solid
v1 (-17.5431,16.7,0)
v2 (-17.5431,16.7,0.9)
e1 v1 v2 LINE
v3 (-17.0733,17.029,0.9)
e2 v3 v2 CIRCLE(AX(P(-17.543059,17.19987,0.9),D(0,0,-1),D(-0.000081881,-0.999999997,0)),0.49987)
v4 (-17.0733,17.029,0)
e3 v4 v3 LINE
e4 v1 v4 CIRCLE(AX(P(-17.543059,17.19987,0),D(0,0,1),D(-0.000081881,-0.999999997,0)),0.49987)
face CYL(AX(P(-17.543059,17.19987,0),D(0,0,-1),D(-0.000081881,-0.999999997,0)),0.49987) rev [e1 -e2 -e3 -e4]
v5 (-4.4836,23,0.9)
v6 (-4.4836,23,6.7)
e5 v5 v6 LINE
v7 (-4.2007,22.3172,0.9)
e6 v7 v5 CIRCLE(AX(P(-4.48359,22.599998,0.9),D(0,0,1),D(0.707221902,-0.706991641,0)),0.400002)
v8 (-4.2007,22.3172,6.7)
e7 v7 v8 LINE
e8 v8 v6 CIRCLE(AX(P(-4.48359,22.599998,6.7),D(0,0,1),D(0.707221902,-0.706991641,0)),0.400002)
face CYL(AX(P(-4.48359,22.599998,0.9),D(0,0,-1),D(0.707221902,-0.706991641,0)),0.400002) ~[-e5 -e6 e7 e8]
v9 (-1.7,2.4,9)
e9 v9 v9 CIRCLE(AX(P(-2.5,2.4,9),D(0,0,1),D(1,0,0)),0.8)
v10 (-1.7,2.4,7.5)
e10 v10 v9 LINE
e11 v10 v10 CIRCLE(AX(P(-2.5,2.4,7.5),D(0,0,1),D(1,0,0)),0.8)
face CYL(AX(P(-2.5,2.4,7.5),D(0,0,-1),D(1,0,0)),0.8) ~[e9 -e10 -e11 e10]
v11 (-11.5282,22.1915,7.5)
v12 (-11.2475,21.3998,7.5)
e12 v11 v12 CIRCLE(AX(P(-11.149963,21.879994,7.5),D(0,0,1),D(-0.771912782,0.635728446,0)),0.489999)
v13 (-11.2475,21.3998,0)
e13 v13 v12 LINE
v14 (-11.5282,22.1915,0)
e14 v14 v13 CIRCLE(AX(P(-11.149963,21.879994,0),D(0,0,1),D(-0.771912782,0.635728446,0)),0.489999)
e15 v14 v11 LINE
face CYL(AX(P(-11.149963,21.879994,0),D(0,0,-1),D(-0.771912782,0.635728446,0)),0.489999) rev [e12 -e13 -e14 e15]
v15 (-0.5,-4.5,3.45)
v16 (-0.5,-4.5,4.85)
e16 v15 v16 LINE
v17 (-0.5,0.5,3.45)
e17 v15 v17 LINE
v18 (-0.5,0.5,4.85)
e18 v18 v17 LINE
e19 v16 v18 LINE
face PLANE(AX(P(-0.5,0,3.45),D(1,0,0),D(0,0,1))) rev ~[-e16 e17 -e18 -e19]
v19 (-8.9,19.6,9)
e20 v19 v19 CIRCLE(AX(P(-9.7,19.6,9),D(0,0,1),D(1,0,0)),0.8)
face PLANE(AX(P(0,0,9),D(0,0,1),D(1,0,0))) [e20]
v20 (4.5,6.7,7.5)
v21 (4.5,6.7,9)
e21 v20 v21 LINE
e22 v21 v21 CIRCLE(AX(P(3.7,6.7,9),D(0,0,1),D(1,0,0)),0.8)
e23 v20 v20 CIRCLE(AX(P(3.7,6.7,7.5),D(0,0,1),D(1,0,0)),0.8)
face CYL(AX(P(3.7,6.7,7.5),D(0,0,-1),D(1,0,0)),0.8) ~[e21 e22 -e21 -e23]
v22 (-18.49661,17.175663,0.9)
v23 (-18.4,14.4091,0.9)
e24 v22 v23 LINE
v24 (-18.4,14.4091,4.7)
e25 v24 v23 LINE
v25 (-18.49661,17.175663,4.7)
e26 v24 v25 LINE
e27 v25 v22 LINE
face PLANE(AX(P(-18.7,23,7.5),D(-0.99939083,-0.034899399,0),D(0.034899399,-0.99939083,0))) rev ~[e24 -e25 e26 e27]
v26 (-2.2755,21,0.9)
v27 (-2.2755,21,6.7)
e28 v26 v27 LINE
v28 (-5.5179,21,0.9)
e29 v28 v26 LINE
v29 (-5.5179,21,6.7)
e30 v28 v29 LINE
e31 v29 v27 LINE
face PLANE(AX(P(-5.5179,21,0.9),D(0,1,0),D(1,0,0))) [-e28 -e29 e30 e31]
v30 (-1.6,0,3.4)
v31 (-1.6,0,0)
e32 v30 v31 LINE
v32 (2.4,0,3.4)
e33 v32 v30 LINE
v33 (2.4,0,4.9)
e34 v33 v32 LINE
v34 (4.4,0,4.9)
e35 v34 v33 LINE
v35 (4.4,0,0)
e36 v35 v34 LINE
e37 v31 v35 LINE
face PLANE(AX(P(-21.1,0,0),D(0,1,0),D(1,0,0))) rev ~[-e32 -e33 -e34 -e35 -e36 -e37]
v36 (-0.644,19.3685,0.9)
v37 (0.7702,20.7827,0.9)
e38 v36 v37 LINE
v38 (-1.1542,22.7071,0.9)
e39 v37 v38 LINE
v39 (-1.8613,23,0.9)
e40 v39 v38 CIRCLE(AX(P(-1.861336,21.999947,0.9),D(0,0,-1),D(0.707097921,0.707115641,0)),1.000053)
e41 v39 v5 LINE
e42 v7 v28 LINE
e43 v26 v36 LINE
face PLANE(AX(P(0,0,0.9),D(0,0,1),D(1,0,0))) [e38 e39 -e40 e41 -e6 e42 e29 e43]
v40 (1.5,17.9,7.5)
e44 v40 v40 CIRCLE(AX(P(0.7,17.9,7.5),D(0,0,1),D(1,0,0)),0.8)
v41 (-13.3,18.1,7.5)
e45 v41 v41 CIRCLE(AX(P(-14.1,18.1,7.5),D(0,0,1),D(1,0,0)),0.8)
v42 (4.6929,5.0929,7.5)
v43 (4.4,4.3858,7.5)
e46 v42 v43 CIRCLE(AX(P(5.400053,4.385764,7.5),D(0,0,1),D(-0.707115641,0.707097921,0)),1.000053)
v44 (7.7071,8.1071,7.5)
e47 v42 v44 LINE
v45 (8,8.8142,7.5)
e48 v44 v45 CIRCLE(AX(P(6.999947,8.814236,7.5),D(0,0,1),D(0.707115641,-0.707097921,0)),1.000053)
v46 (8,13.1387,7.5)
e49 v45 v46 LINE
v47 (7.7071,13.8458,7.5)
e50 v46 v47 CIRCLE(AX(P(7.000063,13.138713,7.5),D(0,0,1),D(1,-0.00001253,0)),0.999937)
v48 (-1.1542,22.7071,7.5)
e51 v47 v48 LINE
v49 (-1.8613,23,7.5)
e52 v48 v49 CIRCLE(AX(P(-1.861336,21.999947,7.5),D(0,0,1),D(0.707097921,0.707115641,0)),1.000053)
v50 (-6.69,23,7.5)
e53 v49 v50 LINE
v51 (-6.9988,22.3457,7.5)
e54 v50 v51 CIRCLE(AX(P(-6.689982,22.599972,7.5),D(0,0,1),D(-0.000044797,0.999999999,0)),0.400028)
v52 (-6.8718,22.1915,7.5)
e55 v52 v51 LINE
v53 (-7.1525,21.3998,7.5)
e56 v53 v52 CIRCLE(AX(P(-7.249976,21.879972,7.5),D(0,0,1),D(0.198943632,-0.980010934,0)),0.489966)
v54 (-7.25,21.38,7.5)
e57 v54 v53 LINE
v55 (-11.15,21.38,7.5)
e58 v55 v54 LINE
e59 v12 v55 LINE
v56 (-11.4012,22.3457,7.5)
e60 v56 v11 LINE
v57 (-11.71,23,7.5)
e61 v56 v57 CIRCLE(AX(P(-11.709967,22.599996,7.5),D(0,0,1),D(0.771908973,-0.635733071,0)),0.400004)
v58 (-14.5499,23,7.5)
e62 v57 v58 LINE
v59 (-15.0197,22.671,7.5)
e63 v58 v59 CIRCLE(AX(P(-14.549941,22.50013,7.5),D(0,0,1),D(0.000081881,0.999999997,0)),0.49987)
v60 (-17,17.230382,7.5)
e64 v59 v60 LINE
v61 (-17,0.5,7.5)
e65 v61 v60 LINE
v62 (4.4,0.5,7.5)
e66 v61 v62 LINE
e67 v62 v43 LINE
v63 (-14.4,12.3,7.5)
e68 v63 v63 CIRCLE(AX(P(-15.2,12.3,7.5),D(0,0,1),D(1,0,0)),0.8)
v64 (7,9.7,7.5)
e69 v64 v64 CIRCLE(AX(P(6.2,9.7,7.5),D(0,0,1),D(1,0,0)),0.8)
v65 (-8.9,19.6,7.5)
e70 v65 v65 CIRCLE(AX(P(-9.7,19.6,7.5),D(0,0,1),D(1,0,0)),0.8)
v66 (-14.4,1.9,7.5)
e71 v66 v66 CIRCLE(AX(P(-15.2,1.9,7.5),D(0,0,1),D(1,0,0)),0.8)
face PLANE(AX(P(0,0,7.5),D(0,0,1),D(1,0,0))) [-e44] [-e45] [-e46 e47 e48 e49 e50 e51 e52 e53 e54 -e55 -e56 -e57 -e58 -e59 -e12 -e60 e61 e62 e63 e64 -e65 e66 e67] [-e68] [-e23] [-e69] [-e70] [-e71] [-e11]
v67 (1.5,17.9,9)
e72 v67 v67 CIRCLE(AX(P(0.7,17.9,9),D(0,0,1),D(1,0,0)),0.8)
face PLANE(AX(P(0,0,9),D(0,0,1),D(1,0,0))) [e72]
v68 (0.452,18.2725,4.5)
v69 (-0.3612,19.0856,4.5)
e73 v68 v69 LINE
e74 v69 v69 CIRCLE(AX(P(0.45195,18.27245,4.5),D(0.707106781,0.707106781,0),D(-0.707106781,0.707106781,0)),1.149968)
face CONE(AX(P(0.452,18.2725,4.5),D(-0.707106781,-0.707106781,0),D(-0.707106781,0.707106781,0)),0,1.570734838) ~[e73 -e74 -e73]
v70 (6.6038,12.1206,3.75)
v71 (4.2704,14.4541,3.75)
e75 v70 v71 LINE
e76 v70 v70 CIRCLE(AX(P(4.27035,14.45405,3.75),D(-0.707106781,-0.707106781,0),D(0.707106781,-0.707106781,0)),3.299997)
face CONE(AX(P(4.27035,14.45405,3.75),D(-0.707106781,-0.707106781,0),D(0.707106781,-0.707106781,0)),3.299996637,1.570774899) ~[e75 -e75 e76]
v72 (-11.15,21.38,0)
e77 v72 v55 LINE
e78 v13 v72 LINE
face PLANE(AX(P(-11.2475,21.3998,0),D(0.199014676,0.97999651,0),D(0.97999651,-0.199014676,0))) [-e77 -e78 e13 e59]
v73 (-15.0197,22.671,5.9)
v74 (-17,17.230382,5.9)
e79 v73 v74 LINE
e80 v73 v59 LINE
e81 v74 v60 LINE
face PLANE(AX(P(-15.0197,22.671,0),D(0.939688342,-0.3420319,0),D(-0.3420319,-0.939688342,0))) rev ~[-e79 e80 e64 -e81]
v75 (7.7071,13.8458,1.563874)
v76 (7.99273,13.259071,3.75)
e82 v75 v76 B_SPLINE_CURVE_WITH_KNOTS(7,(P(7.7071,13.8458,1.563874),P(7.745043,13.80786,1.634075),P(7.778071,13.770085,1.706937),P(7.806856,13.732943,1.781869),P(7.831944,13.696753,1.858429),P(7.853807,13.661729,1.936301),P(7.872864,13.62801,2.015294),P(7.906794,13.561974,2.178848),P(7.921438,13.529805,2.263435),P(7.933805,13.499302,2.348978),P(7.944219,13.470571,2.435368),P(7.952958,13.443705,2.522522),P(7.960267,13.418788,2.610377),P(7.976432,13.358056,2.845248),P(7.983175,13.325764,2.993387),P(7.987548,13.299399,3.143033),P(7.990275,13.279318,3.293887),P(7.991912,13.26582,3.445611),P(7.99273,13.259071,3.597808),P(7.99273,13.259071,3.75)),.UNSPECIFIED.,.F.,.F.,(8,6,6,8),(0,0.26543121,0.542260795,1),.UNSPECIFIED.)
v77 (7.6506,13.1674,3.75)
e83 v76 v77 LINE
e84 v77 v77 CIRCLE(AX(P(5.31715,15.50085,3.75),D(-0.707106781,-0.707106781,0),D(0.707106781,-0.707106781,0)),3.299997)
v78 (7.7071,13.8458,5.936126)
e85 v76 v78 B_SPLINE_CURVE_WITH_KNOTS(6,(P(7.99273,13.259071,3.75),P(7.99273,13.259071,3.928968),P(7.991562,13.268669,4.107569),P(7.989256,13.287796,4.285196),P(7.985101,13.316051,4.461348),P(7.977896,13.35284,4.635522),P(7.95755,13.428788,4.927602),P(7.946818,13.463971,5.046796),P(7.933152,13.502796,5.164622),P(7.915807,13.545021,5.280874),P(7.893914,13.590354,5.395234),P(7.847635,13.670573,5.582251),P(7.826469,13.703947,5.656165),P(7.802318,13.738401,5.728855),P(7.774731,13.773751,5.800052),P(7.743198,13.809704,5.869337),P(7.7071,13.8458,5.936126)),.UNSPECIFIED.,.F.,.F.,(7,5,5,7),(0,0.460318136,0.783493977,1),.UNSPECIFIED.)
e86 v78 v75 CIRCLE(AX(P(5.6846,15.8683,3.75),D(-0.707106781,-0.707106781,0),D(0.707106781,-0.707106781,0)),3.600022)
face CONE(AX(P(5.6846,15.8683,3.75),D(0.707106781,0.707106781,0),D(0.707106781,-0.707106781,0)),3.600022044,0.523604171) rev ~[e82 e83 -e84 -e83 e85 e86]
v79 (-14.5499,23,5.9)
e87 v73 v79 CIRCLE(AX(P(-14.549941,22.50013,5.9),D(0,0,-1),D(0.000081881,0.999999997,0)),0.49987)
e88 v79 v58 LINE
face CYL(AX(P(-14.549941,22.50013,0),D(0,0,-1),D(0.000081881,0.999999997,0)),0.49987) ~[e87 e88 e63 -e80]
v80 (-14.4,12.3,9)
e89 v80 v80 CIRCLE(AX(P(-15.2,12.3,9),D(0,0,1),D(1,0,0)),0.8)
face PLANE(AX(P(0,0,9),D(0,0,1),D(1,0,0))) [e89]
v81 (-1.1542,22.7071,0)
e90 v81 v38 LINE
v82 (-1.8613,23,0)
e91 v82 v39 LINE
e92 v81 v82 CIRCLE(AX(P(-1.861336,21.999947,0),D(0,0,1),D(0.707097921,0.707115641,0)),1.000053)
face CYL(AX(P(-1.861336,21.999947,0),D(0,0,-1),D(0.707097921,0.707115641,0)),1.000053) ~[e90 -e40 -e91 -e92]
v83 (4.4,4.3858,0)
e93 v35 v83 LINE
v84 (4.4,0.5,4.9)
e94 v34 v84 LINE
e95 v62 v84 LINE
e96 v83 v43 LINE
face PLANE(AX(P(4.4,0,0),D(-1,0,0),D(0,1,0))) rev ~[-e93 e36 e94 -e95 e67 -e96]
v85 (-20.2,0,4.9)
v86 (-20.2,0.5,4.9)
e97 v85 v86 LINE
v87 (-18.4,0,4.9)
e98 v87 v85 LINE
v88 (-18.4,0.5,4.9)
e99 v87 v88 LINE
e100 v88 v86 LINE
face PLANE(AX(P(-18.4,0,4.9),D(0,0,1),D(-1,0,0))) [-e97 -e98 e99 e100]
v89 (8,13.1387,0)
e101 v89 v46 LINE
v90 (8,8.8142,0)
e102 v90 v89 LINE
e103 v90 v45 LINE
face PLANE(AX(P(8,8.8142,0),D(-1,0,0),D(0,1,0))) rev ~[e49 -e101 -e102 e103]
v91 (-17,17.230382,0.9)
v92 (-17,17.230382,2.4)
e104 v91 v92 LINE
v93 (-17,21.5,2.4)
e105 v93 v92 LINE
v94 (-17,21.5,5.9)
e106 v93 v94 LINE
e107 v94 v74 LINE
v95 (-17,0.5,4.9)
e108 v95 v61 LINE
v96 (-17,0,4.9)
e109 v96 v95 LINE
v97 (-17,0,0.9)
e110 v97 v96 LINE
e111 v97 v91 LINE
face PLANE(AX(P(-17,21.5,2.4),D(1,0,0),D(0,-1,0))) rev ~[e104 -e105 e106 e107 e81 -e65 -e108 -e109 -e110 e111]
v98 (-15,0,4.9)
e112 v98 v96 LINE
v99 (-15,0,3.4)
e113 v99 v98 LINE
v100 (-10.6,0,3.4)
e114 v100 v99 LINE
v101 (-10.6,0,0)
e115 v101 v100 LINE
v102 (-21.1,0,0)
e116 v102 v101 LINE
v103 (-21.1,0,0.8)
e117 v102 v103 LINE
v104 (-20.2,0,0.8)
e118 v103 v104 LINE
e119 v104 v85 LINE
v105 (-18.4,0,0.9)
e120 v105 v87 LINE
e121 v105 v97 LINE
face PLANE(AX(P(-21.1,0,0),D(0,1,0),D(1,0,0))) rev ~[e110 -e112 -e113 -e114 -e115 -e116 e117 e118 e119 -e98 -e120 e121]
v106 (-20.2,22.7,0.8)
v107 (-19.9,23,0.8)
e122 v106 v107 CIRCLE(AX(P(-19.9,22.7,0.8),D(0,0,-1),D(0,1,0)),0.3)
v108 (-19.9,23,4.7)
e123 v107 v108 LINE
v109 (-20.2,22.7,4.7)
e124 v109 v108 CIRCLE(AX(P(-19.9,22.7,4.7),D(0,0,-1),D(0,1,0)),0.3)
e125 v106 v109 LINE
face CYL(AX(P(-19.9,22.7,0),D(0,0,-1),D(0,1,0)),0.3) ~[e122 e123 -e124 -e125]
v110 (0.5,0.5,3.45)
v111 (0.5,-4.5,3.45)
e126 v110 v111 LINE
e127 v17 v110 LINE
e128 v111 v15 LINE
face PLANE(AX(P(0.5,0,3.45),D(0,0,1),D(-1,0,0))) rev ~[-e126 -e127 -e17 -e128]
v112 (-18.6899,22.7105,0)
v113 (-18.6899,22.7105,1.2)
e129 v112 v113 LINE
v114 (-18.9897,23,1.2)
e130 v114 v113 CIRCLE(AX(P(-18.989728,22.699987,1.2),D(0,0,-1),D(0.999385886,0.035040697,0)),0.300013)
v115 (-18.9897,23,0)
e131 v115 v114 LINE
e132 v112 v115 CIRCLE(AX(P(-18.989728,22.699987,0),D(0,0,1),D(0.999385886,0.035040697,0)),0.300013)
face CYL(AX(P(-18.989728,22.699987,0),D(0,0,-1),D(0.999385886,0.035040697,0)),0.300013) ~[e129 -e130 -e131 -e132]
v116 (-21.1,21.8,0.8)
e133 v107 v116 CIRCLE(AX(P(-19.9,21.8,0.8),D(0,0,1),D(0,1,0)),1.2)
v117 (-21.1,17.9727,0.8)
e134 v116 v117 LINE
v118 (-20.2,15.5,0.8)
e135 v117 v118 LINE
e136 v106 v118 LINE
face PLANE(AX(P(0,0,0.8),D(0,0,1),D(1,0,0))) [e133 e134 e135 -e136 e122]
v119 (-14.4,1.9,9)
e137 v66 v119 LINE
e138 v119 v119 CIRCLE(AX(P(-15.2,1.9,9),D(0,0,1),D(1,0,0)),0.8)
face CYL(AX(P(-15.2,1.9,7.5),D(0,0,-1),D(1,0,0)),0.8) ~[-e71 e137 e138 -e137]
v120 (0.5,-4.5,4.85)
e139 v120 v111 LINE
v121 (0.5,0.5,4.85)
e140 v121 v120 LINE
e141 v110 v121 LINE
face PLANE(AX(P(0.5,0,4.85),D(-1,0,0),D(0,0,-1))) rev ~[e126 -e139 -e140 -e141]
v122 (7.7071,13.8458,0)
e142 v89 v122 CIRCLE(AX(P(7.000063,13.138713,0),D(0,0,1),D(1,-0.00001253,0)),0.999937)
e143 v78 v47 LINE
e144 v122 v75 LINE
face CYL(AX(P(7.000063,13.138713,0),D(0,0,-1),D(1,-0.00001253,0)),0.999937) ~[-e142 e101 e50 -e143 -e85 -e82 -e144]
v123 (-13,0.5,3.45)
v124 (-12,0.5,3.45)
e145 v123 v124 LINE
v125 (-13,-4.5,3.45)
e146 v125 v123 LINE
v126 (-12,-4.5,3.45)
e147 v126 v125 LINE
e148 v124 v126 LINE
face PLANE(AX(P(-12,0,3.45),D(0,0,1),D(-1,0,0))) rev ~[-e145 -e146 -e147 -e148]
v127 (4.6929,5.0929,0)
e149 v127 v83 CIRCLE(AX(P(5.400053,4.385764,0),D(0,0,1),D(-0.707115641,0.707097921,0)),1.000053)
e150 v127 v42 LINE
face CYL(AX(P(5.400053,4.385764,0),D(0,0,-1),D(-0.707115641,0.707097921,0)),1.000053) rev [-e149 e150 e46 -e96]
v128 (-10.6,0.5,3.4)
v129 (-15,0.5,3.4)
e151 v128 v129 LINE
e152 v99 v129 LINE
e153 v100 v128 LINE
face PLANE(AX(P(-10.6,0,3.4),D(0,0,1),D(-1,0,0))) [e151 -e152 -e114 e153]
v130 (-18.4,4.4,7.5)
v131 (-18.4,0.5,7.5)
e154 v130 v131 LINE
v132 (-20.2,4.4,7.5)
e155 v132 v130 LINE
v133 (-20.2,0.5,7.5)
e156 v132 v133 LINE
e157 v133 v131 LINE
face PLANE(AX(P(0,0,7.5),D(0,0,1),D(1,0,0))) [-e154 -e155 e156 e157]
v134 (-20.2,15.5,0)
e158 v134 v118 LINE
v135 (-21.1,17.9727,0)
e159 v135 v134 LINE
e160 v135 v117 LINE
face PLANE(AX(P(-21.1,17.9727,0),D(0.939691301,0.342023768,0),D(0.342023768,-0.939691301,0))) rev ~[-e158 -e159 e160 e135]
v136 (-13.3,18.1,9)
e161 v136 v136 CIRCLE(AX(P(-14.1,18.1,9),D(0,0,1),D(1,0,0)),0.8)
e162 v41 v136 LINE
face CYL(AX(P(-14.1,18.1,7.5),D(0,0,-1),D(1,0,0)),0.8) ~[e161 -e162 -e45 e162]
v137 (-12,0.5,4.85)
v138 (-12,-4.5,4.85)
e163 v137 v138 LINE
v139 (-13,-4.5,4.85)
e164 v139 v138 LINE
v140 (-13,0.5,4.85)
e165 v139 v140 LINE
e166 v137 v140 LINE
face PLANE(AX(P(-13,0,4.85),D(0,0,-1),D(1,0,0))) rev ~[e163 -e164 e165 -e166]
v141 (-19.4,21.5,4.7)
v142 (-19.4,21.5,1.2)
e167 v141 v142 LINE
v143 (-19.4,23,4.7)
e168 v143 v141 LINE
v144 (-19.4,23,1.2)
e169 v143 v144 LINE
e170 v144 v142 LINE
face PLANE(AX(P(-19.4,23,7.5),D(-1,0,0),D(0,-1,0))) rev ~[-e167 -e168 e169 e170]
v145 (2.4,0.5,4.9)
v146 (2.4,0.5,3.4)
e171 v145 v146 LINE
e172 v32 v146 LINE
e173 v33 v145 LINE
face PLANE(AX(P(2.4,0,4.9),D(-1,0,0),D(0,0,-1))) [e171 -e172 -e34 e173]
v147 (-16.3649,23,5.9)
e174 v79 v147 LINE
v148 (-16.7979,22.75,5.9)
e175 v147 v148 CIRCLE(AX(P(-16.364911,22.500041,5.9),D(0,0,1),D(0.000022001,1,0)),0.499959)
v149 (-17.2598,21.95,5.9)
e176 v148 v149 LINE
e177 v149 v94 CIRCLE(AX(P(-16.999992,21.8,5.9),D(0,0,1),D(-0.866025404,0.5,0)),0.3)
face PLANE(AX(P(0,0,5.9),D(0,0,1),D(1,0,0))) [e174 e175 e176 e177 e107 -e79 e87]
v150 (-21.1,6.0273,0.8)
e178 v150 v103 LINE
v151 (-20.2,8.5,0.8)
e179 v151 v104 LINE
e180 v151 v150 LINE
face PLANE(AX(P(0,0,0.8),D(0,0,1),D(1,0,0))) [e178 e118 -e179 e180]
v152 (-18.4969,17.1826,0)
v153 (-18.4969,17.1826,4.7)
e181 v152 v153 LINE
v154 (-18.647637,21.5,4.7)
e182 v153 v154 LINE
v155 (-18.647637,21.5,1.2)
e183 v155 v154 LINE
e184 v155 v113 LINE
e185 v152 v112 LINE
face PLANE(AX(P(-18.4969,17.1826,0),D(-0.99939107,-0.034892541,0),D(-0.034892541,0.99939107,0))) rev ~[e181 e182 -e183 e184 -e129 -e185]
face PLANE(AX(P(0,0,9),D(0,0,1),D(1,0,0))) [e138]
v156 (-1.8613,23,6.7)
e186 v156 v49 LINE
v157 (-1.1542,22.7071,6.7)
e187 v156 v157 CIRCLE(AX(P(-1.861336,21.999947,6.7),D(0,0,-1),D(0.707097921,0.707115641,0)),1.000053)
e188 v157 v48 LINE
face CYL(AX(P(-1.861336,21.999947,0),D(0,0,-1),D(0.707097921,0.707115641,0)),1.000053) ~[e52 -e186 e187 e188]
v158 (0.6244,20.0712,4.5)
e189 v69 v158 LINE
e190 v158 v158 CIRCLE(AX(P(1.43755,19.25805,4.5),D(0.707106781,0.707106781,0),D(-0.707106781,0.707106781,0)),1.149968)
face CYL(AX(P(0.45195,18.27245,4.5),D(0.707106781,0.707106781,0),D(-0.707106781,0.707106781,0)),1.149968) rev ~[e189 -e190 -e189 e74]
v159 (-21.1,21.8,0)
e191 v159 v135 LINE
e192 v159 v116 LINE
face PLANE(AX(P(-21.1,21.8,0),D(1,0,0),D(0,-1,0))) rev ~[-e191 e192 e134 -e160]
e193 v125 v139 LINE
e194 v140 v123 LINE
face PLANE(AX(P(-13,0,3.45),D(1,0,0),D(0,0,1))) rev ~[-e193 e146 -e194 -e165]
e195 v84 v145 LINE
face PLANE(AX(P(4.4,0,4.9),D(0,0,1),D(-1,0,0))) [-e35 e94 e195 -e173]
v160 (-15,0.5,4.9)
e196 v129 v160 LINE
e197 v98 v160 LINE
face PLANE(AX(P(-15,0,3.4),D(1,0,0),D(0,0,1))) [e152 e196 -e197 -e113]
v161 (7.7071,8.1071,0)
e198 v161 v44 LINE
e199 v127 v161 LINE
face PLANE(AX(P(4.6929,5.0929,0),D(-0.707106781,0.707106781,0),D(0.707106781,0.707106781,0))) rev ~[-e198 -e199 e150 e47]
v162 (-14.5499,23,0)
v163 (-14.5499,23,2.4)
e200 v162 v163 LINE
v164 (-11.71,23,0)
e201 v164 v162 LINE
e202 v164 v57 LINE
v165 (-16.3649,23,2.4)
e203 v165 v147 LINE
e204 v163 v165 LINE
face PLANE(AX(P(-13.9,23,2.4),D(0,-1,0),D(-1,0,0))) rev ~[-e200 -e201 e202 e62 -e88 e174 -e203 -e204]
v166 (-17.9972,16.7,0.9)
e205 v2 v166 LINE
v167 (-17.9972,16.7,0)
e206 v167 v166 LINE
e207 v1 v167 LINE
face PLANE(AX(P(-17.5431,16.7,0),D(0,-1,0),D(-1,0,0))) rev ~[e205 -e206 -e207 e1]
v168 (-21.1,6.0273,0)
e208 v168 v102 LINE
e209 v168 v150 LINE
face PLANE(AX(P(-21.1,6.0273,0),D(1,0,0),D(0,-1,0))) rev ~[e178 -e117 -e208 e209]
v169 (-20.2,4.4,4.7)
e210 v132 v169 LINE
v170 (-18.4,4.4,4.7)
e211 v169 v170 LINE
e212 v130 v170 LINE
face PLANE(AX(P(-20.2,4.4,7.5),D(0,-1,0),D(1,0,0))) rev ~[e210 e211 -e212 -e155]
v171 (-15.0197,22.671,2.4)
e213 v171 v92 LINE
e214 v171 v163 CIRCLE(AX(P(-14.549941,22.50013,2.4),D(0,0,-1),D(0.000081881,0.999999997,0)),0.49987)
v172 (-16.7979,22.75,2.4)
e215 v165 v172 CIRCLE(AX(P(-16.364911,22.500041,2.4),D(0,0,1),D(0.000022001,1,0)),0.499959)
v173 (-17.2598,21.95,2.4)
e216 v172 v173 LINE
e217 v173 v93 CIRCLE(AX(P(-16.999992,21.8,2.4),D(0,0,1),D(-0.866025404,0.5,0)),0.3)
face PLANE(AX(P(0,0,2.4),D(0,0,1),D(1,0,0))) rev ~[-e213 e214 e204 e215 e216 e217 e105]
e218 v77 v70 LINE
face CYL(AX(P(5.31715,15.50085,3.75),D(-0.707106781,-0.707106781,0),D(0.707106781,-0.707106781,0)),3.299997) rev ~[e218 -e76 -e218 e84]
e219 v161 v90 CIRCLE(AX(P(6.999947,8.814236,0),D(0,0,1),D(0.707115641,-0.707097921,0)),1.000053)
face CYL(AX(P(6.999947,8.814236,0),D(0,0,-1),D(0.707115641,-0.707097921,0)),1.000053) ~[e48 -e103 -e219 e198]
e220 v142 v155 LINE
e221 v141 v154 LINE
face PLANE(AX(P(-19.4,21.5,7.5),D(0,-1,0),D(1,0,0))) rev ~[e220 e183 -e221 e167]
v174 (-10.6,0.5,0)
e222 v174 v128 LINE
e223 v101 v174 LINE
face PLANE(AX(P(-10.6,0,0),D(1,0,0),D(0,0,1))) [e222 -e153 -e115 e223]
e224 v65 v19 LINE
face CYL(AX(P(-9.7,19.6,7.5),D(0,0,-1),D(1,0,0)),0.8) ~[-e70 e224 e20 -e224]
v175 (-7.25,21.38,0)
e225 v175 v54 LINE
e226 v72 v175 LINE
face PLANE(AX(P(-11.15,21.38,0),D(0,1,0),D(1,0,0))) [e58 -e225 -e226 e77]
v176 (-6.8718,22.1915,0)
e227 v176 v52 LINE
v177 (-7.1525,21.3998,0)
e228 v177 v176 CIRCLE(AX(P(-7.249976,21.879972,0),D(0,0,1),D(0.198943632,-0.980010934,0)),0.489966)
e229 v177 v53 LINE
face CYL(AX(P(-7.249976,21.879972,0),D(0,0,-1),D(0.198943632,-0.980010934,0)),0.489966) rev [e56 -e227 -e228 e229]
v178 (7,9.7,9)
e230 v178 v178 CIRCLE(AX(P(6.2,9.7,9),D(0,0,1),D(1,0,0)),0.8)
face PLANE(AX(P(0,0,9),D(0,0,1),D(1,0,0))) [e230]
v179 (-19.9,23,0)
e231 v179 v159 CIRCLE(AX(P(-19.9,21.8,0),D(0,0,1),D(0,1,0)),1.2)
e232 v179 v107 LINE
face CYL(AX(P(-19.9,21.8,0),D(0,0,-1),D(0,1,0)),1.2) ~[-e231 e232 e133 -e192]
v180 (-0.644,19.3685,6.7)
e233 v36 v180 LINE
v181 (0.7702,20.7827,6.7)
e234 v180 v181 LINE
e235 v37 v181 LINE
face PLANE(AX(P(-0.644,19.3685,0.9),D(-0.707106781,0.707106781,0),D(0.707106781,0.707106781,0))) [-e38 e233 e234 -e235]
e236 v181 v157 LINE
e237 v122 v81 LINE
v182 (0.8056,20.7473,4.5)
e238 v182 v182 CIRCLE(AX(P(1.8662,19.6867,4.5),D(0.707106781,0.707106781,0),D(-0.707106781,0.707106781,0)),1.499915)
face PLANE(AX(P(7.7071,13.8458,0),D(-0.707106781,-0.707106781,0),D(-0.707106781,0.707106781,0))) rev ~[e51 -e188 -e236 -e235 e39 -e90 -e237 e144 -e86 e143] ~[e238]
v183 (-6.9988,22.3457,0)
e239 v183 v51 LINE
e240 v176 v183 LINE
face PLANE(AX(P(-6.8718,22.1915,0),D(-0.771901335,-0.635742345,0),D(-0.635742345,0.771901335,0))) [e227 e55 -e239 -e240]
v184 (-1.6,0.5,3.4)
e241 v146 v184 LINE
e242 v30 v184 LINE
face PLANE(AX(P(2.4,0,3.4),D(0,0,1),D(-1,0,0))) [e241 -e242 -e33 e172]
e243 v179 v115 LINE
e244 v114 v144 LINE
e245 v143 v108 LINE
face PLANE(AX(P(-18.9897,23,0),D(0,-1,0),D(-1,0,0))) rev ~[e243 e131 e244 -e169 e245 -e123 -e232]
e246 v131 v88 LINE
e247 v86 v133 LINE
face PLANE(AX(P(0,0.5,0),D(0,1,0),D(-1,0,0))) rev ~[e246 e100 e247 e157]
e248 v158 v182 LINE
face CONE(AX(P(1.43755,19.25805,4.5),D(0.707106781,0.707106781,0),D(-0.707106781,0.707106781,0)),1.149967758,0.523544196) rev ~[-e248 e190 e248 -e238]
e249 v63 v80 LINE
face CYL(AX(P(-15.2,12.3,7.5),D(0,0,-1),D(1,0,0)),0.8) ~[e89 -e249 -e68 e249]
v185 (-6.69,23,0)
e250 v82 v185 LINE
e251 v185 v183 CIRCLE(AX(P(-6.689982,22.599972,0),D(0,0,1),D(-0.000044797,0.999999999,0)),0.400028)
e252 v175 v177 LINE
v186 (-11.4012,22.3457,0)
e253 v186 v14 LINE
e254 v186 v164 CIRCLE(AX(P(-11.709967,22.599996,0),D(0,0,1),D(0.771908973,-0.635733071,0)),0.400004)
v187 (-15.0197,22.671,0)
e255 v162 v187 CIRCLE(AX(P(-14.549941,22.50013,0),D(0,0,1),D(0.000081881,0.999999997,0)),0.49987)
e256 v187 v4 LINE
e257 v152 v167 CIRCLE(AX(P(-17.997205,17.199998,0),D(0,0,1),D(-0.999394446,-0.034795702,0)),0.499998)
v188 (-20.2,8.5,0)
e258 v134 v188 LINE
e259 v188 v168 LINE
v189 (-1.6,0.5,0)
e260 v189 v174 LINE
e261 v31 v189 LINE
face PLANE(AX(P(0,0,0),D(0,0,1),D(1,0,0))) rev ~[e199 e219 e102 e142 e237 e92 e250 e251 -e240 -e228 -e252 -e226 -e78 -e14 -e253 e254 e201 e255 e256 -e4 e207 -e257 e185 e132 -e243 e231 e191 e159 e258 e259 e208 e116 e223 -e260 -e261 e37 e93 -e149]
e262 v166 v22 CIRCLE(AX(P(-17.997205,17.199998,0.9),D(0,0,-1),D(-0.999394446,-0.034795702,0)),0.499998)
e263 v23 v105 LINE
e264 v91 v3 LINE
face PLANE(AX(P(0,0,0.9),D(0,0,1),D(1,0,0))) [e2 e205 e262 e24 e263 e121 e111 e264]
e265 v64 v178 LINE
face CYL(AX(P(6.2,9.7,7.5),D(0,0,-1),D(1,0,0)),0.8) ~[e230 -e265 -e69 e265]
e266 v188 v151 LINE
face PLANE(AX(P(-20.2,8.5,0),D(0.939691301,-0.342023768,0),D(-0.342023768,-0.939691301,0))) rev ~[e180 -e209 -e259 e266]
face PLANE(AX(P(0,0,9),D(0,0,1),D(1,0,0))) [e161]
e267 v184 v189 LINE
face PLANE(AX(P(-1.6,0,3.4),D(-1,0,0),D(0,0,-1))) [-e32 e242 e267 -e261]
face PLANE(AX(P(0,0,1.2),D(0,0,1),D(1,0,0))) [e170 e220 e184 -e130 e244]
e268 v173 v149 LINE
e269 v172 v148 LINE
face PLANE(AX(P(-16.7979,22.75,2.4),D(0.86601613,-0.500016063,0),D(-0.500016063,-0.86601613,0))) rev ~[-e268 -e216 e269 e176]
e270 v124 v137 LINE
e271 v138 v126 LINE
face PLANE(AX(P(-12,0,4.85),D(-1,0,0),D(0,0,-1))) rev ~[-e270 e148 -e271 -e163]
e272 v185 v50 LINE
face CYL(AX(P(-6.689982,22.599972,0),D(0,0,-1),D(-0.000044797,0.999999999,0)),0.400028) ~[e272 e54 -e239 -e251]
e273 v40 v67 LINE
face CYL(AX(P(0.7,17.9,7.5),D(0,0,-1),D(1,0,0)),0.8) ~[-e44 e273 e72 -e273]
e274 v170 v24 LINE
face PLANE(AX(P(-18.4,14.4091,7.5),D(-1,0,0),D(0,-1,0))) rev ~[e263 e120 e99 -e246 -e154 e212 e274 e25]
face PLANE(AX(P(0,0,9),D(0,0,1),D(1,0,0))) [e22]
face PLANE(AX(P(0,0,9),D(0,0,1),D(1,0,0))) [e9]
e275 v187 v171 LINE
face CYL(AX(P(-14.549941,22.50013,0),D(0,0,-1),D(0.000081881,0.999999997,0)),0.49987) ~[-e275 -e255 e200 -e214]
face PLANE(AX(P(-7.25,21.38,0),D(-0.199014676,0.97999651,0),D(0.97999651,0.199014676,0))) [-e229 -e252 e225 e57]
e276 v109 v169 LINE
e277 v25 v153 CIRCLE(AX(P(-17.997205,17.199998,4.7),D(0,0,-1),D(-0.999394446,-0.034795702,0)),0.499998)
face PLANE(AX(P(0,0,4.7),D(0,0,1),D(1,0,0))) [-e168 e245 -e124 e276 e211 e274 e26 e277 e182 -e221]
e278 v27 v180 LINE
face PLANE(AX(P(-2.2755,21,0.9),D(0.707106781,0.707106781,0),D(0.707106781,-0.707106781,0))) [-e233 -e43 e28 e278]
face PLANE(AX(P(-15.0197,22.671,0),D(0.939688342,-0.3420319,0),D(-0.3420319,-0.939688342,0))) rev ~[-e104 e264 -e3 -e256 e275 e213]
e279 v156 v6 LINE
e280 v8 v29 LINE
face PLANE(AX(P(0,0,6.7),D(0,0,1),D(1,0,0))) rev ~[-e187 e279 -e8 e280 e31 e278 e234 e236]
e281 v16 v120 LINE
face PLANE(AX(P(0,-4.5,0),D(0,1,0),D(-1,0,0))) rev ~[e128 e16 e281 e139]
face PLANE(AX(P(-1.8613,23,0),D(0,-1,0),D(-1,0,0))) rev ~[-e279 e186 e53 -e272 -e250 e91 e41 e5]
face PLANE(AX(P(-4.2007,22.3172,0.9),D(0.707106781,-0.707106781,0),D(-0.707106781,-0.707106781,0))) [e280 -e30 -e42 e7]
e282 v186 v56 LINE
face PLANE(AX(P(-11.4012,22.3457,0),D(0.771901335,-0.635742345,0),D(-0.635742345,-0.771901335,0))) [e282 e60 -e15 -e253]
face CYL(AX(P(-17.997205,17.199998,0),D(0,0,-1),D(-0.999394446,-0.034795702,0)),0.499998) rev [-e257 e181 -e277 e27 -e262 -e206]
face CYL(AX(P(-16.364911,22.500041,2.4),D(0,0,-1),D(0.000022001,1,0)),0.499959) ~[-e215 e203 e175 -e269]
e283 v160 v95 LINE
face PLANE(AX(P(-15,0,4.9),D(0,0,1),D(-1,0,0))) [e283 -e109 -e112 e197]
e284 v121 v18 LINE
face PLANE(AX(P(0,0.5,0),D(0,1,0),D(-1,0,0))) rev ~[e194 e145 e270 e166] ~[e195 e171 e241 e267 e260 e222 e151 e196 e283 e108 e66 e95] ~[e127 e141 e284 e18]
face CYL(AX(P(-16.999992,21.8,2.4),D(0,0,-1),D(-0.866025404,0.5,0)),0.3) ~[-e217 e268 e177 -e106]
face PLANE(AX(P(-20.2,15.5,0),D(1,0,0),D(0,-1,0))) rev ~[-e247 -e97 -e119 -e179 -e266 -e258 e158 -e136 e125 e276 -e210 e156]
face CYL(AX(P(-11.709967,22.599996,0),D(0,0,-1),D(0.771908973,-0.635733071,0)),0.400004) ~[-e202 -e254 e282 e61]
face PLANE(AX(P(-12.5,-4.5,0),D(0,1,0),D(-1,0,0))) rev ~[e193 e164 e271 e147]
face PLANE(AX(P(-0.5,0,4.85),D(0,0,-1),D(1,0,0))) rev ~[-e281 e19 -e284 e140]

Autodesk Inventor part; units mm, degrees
ref_plane "YZ Plane" through (0, 0, 0) normal (1, 0, 0) x (0, 1, 0)
ref_plane "XZ Plane" through (0, 0, 0) normal (0, 1, 0) x (-1, 0, 0)
ref_plane "XY Plane" through (0, 0, 0) normal (0, 0, 1) x (1, 0, 0)
sketch "Skizze_1" plane through (0, 0, 0) normal (0, 0, 1) x (1, 0, 0)
  line L0 (-20.2, 0) -> (4.4, 0)
  line L1 (4.4, 0) -> (4.4, 4.3858)
  arc A0 (4.6929, 5.0929) -> (4.4, 4.3858) centre (5.4, 4.3858) ccw
  line L2 (4.6929, 5.0929) -> (7.7071, 8.1071)
  arc A1 (7.7071, 8.1071) -> (8, 8.8142) centre (7, 8.8142) ccw
  line L3 (8, 8.8142) -> (8, 13.1387)
  arc A2 (8, 13.1387) -> (7.7071, 13.8458) centre (7, 13.1387) ccw
  line L4 (7.7071, 13.8458) -> (-1.1542, 22.7071)
  arc A3 (-1.1542, 22.7071) -> (-1.8613, 23) centre (-1.8613, 22) ccw
  line L5 (-1.8613, 23) -> (-14.5499, 23)
  arc A4 (-14.5499, 23) -> (-15.0197, 22.671) centre (-14.5499, 22.5) ccw
  line L6 (-15.0197, 22.671) -> (-17.0733, 17.029)
  arc A5 (-17.5431, 16.7) -> (-17.0733, 17.029) centre (-17.5431, 17.2) ccw
  line L7 (-17.5431, 16.7) -> (-17.9972, 16.7)
  arc A6 (-18.4969, 17.1826) -> (-17.9972, 16.7) centre (-17.9972, 17.2) ccw
  line L8 (-18.4969, 17.1826) -> (-18.6899, 22.7105)
  arc A7 (-18.6899, 22.7105) -> (-18.9897, 23) centre (-18.9897, 22.7) ccw
  line L9 (-18.9897, 23) -> (-19.9, 23)
  arc A8 (-19.9, 23) -> (-20.2, 22.7) centre (-19.9, 22.7) ccw
  line L10 (-20.2, 22.7) -> (-20.2, 0)
extrude "Extrusion1" add sketch "Skizze_1" along normal blind 7.5
sketch "Skizze_2" plane through (0, 0, 0) normal (0, 0, 1) x (1, 0, 0)
  arc A0 (-11.4012, 22.3457) -> (-11.71, 23) centre (-11.71, 22.6) ccw
  line L0 (-11.4012, 22.3457) -> (-11.5282, 22.1915)
  arc A1 (-11.5282, 22.1915) -> (-11.2475, 21.3998) centre (-11.15, 21.88) ccw
  line L1 (-11.2475, 21.3998) -> (-11.15, 21.38)
  line L2 (-11.15, 21.38) -> (-7.25, 21.38)
  line L3 (-7.25, 21.38) -> (-7.1525, 21.3998)
  arc A2 (-7.1525, 21.3998) -> (-6.8718, 22.1915) centre (-7.25, 21.88) ccw
  line L4 (-6.8718, 22.1915) -> (-6.9988, 22.3457)
  arc A3 (-6.69, 23) -> (-6.9988, 22.3457) centre (-6.69, 22.6) ccw
  line L5 (-6.69, 23) -> (-11.71, 23)
extrude "Extrusion2" cut sketch "Skizze_2" along normal blind 7.5
sketch "Skizze_3" plane through (0, 0, 0) normal (0, 0, 1) x (1, 0, 0)
  line L0 (-21.1, 0) -> (-19.2, 0)
  line L1 (-19.2, 0) -> (-19.2, 23)
  line L2 (-19.2, 23) -> (-19.9, 23)
  arc A0 (-19.9, 23) -> (-21.1, 21.8) centre (-19.9, 21.8) ccw
  line L3 (-21.1, 21.8) -> (-21.1, 17.9727)
  line L4 (-21.1, 17.9727) -> (-20.2, 15.5)
  line L5 (-20.2, 15.5) -> (-20.2, 8.5)
  line L6 (-20.2, 8.5) -> (-21.1, 6.0273)
  line L7 (-21.1, 6.0273) -> (-21.1, 0)
extrude "Extrusion3" add sketch "Skizze_3" along normal blind 0.8
sketch "Skizze_4" plane through (0, 0, 7.5) normal (0, 0, 1) x (1, 0, 0)
  line L0 (-18.7, 23) -> (-18.4, 14.4091)
  line L1 (-18.4, 14.4091) -> (-18.4, 0)
  line L2 (-18.4, 0) -> (-17, 0)
  line L3 (-17, 0) -> (-17, 23)
  line L4 (-17, 23) -> (-18.7, 23)
extrude "Extrusion4" cut sketch "Skizze_4" against normal blind 6.6
sketch "Skizze_5" plane through (0, 0, 7.5) normal (0, 0, 1) x (1, 0, 0)
  line L0 (-20.2, 4.4) -> (-18.4, 4.4)
  line L1 (-18.4, 4.4) -> (-18.4, 27.4)
  line L2 (-18.4, 27.4) -> (-20.2, 27.4)
  line L3 (-20.2, 27.4) -> (-20.2, 4.4)
extrude "Extrusion5" cut sketch "Skizze_5" against normal blind 2.8
sketch "Skizze_7" plane through (0, 0, 7.5) normal (0, 0, 1) x (1, 0, 0)
  line L0 (-19.4, 23) -> (-19.4, 21.5)
  line L1 (-19.4, 21.5) -> (-18.4, 21.5)
  line L2 (-18.4, 21.5) -> (-18.4, 23)
  line L3 (-18.4, 23) -> (-19.4, 23)
extrude "Extrusion6" cut sketch "Skizze_7" against normal blind 6.3
sketch "Skizze_8" plane through (0, 0, 7.5) normal (0, 0, 1) x (1, 0, 0)
  circle A0 centre (6.2, 9.7) radius 0.8
extrude "Extrusion7" add sketch "Skizze_8" along normal blind 1.5
sketch "Skizze_9" plane through (0, 0, 7.5) normal (0, 0, 1) x (1, 0, 0)
  circle A0 centre (3.7, 6.7) radius 0.8
extrude "Extrusion8" add sketch "Skizze_9" along normal blind 1.5
sketch "Skizze_10" plane through (0, 0, 7.5) normal (0, 0, 1) x (1, 0, 0)
  circle A0 centre (-2.5, 2.4) radius 0.8
extrude "Extrusion9" add sketch "Skizze_10" along normal blind 1.5
sketch "Skizze_11" plane through (0, 0, 7.5) normal (0, 0, 1) x (1, 0, 0)
  circle A0 centre (-15.2, 1.9) radius 0.8
extrude "Extrusion10" add sketch "Skizze_11" along normal blind 1.5
sketch "Skizze_12" plane through (0, 0, 7.5) normal (0, 0, 1) x (1, 0, 0)
  circle A0 centre (-15.2, 12.3) radius 0.8
extrude "Extrusion11" add sketch "Skizze_12" along normal blind 1.5
sketch "Skizze_13" plane through (0, 0, 7.5) normal (0, 0, 1) x (1, 0, 0)
  circle A0 centre (-14.1, 18.1) radius 0.8
extrude "Extrusion12" add sketch "Skizze_13" along normal blind 1.5
sketch "Skizze_14" plane through (0, 0, 7.5) normal (0, 0, 1) x (1, 0, 0)
  circle A0 centre (-9.7, 19.6) radius 0.8
extrude "Extrusion13" add sketch "Skizze_14" along normal blind 1.5
sketch "Skizze_15" plane through (0, 0, 7.5) normal (0, 0, 1) x (1, 0, 0)
  circle A0 centre (0.7, 17.9) radius 0.8
extrude "Extrusion14" add sketch "Skizze_15" along normal blind 1.5
sketch "Skizze_6" plane through (0, 0, 2.4) normal (0, 0, 1) x (1, 0, 0)
  arc A0 (-17.2598, 21.95) -> (-17, 21.5) centre (-17, 21.8) ccw
  line L0 (-17, 21.5) -> (-17, 16.5)
  line L1 (-17, 16.5) -> (-13.9, 16.5)
  line L2 (-13.9, 16.5) -> (-13.9, 23)
  line L3 (-13.9, 23) -> (-16.3649, 23)
  arc A1 (-16.3649, 23) -> (-16.7979, 22.75) centre (-16.3649, 22.5) ccw
  line L4 (-16.7979, 22.75) -> (-17.2598, 21.95)
extrude "Extrusion15" add sketch "Skizze_6" along normal blind 3.5
sketch "Skizze_16" plane through (0, 0, 0) normal (0, 1, 0) x (-1, 0, 0)
  line L0 (20.2, 4.9) -> (20.2, 7.5)
  line L1 (20.2, 7.5) -> (-4.4, 7.5)
  line L2 (-4.4, 7.5) -> (-4.4, 4.9)
  line L3 (-4.4, 4.9) -> (-2.4, 4.9)
  line L4 (-2.4, 4.9) -> (-2.4, 3.4)
  line L5 (-2.4, 3.4) -> (1.6, 3.4)
  line L6 (1.6, 3.4) -> (1.6, 0)
  line L7 (1.6, 0) -> (10.6, 0)
  line L8 (10.6, 0) -> (10.6, 3.4)
  line L9 (10.6, 3.4) -> (15, 3.4)
  line L10 (15, 3.4) -> (15, 4.9)
  line L11 (15, 4.9) -> (17, 4.9)
  line L12 (17, 4.9) -> (17, 2.8)
  line L13 (17, 2.8) -> (18.4, 2.8)
  line L14 (18.4, 2.8) -> (18.4, 4.9)
  line L15 (18.4, 4.9) -> (20.2, 4.9)
extrude "Extrusion16" cut sketch "Skizze_16" along normal blind 0.5
sketch "Skizze_17" plane through (0, 0, 0) normal (0, 1, 0) x (-1, 0, 0)
  line L0 (0.5, 3.45) -> (0.5, 4.85)
  line L1 (0.5, 4.85) -> (-0.5, 4.85)
  line L2 (-0.5, 4.85) -> (-0.5, 3.45)
  line L3 (-0.5, 3.45) -> (0.5, 3.45)
extrude "Extrusion17" add sketch "Skizze_17" along normal mid plane 9
pattern_linear "Rectangular Pattern1" count 2 spacing 12.5 along (-1, 0, 0) of "Extrusion17"
sketch "Skizze_19" plane through (0, 0, 3.75) normal (0, 0, 1) x (1, 0, 0)
  line L0 (4.2704, 14.4541) -> (5.6846, 15.8683)
  line L1 (5.6846, 15.8683) -> (8.2302, 13.3227)
  line L2 (8.2302, 13.3227) -> (7.6506, 13.1674)
  line L3 (7.6506, 13.1674) -> (6.6038, 12.1206)
  line L4 (6.6038, 12.1206) -> (4.2704, 14.4541)
  line L5 (4.2704, 14.4541) -> (5.6846, 15.8683)
revolve "Revolution1" cut sketch "Skizze_19" angle 360 about axis through (4.2704, 14.4541, 3.75) along (-0.7071, -0.7071, 0)
sketch "Skizze_20" plane through (0, 0, 4.5) normal (0, 0, 1) x (1, 0, 0)
  line L0 (1.8662, 19.6867) -> (0.452, 18.2725)
  line L1 (0.452, 18.2725) -> (-0.3612, 19.0856)
  line L2 (-0.3612, 19.0856) -> (0.6244, 20.0712)
  line L3 (0.6244, 20.0712) -> (0.8056, 20.7473)
  line L4 (0.8056, 20.7473) -> (1.8662, 19.6867)
  line L5 (1.8662, 19.6867) -> (0.452, 18.2725)
revolve "Revolution2" cut sketch "Skizze_20" angle 360 about axis through (1.8662, 19.6867, 4.5) along (0.7071, 0.7071, 0)
sketch "Skizze_21" plane through (0, 0, 0.9) normal (0, 0, 1) x (1, 0, 0)
  line L0 (-5.5179, 21) -> (-2.2755, 21)
  line L1 (-2.2755, 21) -> (-0.644, 19.3685)
  line L2 (-0.644, 19.3685) -> (0.7702, 20.7827)
  line L3 (0.7702, 20.7827) -> (-1.4471, 23)
  line L4 (-1.4471, 23) -> (-4.4836, 23)
  arc A0 (-4.2007, 22.3172) -> (-4.4836, 23) centre (-4.4836, 22.6) ccw
  line L5 (-4.2007, 22.3172) -> (-5.5179, 21)
extrude "Extrusion18" cut sketch "Skizze_21" along normal blind 5.8
sketch "Sketch21" plane through (4.2704, 14.4541, 3.75) normal (0.7071, 0.7071, 0) x (-0.7071, 0.7071, 0)
  circle A0 centre (0, 0) radius 3.3 projected
properties part number "Wago 745-831 (32A) Red"
